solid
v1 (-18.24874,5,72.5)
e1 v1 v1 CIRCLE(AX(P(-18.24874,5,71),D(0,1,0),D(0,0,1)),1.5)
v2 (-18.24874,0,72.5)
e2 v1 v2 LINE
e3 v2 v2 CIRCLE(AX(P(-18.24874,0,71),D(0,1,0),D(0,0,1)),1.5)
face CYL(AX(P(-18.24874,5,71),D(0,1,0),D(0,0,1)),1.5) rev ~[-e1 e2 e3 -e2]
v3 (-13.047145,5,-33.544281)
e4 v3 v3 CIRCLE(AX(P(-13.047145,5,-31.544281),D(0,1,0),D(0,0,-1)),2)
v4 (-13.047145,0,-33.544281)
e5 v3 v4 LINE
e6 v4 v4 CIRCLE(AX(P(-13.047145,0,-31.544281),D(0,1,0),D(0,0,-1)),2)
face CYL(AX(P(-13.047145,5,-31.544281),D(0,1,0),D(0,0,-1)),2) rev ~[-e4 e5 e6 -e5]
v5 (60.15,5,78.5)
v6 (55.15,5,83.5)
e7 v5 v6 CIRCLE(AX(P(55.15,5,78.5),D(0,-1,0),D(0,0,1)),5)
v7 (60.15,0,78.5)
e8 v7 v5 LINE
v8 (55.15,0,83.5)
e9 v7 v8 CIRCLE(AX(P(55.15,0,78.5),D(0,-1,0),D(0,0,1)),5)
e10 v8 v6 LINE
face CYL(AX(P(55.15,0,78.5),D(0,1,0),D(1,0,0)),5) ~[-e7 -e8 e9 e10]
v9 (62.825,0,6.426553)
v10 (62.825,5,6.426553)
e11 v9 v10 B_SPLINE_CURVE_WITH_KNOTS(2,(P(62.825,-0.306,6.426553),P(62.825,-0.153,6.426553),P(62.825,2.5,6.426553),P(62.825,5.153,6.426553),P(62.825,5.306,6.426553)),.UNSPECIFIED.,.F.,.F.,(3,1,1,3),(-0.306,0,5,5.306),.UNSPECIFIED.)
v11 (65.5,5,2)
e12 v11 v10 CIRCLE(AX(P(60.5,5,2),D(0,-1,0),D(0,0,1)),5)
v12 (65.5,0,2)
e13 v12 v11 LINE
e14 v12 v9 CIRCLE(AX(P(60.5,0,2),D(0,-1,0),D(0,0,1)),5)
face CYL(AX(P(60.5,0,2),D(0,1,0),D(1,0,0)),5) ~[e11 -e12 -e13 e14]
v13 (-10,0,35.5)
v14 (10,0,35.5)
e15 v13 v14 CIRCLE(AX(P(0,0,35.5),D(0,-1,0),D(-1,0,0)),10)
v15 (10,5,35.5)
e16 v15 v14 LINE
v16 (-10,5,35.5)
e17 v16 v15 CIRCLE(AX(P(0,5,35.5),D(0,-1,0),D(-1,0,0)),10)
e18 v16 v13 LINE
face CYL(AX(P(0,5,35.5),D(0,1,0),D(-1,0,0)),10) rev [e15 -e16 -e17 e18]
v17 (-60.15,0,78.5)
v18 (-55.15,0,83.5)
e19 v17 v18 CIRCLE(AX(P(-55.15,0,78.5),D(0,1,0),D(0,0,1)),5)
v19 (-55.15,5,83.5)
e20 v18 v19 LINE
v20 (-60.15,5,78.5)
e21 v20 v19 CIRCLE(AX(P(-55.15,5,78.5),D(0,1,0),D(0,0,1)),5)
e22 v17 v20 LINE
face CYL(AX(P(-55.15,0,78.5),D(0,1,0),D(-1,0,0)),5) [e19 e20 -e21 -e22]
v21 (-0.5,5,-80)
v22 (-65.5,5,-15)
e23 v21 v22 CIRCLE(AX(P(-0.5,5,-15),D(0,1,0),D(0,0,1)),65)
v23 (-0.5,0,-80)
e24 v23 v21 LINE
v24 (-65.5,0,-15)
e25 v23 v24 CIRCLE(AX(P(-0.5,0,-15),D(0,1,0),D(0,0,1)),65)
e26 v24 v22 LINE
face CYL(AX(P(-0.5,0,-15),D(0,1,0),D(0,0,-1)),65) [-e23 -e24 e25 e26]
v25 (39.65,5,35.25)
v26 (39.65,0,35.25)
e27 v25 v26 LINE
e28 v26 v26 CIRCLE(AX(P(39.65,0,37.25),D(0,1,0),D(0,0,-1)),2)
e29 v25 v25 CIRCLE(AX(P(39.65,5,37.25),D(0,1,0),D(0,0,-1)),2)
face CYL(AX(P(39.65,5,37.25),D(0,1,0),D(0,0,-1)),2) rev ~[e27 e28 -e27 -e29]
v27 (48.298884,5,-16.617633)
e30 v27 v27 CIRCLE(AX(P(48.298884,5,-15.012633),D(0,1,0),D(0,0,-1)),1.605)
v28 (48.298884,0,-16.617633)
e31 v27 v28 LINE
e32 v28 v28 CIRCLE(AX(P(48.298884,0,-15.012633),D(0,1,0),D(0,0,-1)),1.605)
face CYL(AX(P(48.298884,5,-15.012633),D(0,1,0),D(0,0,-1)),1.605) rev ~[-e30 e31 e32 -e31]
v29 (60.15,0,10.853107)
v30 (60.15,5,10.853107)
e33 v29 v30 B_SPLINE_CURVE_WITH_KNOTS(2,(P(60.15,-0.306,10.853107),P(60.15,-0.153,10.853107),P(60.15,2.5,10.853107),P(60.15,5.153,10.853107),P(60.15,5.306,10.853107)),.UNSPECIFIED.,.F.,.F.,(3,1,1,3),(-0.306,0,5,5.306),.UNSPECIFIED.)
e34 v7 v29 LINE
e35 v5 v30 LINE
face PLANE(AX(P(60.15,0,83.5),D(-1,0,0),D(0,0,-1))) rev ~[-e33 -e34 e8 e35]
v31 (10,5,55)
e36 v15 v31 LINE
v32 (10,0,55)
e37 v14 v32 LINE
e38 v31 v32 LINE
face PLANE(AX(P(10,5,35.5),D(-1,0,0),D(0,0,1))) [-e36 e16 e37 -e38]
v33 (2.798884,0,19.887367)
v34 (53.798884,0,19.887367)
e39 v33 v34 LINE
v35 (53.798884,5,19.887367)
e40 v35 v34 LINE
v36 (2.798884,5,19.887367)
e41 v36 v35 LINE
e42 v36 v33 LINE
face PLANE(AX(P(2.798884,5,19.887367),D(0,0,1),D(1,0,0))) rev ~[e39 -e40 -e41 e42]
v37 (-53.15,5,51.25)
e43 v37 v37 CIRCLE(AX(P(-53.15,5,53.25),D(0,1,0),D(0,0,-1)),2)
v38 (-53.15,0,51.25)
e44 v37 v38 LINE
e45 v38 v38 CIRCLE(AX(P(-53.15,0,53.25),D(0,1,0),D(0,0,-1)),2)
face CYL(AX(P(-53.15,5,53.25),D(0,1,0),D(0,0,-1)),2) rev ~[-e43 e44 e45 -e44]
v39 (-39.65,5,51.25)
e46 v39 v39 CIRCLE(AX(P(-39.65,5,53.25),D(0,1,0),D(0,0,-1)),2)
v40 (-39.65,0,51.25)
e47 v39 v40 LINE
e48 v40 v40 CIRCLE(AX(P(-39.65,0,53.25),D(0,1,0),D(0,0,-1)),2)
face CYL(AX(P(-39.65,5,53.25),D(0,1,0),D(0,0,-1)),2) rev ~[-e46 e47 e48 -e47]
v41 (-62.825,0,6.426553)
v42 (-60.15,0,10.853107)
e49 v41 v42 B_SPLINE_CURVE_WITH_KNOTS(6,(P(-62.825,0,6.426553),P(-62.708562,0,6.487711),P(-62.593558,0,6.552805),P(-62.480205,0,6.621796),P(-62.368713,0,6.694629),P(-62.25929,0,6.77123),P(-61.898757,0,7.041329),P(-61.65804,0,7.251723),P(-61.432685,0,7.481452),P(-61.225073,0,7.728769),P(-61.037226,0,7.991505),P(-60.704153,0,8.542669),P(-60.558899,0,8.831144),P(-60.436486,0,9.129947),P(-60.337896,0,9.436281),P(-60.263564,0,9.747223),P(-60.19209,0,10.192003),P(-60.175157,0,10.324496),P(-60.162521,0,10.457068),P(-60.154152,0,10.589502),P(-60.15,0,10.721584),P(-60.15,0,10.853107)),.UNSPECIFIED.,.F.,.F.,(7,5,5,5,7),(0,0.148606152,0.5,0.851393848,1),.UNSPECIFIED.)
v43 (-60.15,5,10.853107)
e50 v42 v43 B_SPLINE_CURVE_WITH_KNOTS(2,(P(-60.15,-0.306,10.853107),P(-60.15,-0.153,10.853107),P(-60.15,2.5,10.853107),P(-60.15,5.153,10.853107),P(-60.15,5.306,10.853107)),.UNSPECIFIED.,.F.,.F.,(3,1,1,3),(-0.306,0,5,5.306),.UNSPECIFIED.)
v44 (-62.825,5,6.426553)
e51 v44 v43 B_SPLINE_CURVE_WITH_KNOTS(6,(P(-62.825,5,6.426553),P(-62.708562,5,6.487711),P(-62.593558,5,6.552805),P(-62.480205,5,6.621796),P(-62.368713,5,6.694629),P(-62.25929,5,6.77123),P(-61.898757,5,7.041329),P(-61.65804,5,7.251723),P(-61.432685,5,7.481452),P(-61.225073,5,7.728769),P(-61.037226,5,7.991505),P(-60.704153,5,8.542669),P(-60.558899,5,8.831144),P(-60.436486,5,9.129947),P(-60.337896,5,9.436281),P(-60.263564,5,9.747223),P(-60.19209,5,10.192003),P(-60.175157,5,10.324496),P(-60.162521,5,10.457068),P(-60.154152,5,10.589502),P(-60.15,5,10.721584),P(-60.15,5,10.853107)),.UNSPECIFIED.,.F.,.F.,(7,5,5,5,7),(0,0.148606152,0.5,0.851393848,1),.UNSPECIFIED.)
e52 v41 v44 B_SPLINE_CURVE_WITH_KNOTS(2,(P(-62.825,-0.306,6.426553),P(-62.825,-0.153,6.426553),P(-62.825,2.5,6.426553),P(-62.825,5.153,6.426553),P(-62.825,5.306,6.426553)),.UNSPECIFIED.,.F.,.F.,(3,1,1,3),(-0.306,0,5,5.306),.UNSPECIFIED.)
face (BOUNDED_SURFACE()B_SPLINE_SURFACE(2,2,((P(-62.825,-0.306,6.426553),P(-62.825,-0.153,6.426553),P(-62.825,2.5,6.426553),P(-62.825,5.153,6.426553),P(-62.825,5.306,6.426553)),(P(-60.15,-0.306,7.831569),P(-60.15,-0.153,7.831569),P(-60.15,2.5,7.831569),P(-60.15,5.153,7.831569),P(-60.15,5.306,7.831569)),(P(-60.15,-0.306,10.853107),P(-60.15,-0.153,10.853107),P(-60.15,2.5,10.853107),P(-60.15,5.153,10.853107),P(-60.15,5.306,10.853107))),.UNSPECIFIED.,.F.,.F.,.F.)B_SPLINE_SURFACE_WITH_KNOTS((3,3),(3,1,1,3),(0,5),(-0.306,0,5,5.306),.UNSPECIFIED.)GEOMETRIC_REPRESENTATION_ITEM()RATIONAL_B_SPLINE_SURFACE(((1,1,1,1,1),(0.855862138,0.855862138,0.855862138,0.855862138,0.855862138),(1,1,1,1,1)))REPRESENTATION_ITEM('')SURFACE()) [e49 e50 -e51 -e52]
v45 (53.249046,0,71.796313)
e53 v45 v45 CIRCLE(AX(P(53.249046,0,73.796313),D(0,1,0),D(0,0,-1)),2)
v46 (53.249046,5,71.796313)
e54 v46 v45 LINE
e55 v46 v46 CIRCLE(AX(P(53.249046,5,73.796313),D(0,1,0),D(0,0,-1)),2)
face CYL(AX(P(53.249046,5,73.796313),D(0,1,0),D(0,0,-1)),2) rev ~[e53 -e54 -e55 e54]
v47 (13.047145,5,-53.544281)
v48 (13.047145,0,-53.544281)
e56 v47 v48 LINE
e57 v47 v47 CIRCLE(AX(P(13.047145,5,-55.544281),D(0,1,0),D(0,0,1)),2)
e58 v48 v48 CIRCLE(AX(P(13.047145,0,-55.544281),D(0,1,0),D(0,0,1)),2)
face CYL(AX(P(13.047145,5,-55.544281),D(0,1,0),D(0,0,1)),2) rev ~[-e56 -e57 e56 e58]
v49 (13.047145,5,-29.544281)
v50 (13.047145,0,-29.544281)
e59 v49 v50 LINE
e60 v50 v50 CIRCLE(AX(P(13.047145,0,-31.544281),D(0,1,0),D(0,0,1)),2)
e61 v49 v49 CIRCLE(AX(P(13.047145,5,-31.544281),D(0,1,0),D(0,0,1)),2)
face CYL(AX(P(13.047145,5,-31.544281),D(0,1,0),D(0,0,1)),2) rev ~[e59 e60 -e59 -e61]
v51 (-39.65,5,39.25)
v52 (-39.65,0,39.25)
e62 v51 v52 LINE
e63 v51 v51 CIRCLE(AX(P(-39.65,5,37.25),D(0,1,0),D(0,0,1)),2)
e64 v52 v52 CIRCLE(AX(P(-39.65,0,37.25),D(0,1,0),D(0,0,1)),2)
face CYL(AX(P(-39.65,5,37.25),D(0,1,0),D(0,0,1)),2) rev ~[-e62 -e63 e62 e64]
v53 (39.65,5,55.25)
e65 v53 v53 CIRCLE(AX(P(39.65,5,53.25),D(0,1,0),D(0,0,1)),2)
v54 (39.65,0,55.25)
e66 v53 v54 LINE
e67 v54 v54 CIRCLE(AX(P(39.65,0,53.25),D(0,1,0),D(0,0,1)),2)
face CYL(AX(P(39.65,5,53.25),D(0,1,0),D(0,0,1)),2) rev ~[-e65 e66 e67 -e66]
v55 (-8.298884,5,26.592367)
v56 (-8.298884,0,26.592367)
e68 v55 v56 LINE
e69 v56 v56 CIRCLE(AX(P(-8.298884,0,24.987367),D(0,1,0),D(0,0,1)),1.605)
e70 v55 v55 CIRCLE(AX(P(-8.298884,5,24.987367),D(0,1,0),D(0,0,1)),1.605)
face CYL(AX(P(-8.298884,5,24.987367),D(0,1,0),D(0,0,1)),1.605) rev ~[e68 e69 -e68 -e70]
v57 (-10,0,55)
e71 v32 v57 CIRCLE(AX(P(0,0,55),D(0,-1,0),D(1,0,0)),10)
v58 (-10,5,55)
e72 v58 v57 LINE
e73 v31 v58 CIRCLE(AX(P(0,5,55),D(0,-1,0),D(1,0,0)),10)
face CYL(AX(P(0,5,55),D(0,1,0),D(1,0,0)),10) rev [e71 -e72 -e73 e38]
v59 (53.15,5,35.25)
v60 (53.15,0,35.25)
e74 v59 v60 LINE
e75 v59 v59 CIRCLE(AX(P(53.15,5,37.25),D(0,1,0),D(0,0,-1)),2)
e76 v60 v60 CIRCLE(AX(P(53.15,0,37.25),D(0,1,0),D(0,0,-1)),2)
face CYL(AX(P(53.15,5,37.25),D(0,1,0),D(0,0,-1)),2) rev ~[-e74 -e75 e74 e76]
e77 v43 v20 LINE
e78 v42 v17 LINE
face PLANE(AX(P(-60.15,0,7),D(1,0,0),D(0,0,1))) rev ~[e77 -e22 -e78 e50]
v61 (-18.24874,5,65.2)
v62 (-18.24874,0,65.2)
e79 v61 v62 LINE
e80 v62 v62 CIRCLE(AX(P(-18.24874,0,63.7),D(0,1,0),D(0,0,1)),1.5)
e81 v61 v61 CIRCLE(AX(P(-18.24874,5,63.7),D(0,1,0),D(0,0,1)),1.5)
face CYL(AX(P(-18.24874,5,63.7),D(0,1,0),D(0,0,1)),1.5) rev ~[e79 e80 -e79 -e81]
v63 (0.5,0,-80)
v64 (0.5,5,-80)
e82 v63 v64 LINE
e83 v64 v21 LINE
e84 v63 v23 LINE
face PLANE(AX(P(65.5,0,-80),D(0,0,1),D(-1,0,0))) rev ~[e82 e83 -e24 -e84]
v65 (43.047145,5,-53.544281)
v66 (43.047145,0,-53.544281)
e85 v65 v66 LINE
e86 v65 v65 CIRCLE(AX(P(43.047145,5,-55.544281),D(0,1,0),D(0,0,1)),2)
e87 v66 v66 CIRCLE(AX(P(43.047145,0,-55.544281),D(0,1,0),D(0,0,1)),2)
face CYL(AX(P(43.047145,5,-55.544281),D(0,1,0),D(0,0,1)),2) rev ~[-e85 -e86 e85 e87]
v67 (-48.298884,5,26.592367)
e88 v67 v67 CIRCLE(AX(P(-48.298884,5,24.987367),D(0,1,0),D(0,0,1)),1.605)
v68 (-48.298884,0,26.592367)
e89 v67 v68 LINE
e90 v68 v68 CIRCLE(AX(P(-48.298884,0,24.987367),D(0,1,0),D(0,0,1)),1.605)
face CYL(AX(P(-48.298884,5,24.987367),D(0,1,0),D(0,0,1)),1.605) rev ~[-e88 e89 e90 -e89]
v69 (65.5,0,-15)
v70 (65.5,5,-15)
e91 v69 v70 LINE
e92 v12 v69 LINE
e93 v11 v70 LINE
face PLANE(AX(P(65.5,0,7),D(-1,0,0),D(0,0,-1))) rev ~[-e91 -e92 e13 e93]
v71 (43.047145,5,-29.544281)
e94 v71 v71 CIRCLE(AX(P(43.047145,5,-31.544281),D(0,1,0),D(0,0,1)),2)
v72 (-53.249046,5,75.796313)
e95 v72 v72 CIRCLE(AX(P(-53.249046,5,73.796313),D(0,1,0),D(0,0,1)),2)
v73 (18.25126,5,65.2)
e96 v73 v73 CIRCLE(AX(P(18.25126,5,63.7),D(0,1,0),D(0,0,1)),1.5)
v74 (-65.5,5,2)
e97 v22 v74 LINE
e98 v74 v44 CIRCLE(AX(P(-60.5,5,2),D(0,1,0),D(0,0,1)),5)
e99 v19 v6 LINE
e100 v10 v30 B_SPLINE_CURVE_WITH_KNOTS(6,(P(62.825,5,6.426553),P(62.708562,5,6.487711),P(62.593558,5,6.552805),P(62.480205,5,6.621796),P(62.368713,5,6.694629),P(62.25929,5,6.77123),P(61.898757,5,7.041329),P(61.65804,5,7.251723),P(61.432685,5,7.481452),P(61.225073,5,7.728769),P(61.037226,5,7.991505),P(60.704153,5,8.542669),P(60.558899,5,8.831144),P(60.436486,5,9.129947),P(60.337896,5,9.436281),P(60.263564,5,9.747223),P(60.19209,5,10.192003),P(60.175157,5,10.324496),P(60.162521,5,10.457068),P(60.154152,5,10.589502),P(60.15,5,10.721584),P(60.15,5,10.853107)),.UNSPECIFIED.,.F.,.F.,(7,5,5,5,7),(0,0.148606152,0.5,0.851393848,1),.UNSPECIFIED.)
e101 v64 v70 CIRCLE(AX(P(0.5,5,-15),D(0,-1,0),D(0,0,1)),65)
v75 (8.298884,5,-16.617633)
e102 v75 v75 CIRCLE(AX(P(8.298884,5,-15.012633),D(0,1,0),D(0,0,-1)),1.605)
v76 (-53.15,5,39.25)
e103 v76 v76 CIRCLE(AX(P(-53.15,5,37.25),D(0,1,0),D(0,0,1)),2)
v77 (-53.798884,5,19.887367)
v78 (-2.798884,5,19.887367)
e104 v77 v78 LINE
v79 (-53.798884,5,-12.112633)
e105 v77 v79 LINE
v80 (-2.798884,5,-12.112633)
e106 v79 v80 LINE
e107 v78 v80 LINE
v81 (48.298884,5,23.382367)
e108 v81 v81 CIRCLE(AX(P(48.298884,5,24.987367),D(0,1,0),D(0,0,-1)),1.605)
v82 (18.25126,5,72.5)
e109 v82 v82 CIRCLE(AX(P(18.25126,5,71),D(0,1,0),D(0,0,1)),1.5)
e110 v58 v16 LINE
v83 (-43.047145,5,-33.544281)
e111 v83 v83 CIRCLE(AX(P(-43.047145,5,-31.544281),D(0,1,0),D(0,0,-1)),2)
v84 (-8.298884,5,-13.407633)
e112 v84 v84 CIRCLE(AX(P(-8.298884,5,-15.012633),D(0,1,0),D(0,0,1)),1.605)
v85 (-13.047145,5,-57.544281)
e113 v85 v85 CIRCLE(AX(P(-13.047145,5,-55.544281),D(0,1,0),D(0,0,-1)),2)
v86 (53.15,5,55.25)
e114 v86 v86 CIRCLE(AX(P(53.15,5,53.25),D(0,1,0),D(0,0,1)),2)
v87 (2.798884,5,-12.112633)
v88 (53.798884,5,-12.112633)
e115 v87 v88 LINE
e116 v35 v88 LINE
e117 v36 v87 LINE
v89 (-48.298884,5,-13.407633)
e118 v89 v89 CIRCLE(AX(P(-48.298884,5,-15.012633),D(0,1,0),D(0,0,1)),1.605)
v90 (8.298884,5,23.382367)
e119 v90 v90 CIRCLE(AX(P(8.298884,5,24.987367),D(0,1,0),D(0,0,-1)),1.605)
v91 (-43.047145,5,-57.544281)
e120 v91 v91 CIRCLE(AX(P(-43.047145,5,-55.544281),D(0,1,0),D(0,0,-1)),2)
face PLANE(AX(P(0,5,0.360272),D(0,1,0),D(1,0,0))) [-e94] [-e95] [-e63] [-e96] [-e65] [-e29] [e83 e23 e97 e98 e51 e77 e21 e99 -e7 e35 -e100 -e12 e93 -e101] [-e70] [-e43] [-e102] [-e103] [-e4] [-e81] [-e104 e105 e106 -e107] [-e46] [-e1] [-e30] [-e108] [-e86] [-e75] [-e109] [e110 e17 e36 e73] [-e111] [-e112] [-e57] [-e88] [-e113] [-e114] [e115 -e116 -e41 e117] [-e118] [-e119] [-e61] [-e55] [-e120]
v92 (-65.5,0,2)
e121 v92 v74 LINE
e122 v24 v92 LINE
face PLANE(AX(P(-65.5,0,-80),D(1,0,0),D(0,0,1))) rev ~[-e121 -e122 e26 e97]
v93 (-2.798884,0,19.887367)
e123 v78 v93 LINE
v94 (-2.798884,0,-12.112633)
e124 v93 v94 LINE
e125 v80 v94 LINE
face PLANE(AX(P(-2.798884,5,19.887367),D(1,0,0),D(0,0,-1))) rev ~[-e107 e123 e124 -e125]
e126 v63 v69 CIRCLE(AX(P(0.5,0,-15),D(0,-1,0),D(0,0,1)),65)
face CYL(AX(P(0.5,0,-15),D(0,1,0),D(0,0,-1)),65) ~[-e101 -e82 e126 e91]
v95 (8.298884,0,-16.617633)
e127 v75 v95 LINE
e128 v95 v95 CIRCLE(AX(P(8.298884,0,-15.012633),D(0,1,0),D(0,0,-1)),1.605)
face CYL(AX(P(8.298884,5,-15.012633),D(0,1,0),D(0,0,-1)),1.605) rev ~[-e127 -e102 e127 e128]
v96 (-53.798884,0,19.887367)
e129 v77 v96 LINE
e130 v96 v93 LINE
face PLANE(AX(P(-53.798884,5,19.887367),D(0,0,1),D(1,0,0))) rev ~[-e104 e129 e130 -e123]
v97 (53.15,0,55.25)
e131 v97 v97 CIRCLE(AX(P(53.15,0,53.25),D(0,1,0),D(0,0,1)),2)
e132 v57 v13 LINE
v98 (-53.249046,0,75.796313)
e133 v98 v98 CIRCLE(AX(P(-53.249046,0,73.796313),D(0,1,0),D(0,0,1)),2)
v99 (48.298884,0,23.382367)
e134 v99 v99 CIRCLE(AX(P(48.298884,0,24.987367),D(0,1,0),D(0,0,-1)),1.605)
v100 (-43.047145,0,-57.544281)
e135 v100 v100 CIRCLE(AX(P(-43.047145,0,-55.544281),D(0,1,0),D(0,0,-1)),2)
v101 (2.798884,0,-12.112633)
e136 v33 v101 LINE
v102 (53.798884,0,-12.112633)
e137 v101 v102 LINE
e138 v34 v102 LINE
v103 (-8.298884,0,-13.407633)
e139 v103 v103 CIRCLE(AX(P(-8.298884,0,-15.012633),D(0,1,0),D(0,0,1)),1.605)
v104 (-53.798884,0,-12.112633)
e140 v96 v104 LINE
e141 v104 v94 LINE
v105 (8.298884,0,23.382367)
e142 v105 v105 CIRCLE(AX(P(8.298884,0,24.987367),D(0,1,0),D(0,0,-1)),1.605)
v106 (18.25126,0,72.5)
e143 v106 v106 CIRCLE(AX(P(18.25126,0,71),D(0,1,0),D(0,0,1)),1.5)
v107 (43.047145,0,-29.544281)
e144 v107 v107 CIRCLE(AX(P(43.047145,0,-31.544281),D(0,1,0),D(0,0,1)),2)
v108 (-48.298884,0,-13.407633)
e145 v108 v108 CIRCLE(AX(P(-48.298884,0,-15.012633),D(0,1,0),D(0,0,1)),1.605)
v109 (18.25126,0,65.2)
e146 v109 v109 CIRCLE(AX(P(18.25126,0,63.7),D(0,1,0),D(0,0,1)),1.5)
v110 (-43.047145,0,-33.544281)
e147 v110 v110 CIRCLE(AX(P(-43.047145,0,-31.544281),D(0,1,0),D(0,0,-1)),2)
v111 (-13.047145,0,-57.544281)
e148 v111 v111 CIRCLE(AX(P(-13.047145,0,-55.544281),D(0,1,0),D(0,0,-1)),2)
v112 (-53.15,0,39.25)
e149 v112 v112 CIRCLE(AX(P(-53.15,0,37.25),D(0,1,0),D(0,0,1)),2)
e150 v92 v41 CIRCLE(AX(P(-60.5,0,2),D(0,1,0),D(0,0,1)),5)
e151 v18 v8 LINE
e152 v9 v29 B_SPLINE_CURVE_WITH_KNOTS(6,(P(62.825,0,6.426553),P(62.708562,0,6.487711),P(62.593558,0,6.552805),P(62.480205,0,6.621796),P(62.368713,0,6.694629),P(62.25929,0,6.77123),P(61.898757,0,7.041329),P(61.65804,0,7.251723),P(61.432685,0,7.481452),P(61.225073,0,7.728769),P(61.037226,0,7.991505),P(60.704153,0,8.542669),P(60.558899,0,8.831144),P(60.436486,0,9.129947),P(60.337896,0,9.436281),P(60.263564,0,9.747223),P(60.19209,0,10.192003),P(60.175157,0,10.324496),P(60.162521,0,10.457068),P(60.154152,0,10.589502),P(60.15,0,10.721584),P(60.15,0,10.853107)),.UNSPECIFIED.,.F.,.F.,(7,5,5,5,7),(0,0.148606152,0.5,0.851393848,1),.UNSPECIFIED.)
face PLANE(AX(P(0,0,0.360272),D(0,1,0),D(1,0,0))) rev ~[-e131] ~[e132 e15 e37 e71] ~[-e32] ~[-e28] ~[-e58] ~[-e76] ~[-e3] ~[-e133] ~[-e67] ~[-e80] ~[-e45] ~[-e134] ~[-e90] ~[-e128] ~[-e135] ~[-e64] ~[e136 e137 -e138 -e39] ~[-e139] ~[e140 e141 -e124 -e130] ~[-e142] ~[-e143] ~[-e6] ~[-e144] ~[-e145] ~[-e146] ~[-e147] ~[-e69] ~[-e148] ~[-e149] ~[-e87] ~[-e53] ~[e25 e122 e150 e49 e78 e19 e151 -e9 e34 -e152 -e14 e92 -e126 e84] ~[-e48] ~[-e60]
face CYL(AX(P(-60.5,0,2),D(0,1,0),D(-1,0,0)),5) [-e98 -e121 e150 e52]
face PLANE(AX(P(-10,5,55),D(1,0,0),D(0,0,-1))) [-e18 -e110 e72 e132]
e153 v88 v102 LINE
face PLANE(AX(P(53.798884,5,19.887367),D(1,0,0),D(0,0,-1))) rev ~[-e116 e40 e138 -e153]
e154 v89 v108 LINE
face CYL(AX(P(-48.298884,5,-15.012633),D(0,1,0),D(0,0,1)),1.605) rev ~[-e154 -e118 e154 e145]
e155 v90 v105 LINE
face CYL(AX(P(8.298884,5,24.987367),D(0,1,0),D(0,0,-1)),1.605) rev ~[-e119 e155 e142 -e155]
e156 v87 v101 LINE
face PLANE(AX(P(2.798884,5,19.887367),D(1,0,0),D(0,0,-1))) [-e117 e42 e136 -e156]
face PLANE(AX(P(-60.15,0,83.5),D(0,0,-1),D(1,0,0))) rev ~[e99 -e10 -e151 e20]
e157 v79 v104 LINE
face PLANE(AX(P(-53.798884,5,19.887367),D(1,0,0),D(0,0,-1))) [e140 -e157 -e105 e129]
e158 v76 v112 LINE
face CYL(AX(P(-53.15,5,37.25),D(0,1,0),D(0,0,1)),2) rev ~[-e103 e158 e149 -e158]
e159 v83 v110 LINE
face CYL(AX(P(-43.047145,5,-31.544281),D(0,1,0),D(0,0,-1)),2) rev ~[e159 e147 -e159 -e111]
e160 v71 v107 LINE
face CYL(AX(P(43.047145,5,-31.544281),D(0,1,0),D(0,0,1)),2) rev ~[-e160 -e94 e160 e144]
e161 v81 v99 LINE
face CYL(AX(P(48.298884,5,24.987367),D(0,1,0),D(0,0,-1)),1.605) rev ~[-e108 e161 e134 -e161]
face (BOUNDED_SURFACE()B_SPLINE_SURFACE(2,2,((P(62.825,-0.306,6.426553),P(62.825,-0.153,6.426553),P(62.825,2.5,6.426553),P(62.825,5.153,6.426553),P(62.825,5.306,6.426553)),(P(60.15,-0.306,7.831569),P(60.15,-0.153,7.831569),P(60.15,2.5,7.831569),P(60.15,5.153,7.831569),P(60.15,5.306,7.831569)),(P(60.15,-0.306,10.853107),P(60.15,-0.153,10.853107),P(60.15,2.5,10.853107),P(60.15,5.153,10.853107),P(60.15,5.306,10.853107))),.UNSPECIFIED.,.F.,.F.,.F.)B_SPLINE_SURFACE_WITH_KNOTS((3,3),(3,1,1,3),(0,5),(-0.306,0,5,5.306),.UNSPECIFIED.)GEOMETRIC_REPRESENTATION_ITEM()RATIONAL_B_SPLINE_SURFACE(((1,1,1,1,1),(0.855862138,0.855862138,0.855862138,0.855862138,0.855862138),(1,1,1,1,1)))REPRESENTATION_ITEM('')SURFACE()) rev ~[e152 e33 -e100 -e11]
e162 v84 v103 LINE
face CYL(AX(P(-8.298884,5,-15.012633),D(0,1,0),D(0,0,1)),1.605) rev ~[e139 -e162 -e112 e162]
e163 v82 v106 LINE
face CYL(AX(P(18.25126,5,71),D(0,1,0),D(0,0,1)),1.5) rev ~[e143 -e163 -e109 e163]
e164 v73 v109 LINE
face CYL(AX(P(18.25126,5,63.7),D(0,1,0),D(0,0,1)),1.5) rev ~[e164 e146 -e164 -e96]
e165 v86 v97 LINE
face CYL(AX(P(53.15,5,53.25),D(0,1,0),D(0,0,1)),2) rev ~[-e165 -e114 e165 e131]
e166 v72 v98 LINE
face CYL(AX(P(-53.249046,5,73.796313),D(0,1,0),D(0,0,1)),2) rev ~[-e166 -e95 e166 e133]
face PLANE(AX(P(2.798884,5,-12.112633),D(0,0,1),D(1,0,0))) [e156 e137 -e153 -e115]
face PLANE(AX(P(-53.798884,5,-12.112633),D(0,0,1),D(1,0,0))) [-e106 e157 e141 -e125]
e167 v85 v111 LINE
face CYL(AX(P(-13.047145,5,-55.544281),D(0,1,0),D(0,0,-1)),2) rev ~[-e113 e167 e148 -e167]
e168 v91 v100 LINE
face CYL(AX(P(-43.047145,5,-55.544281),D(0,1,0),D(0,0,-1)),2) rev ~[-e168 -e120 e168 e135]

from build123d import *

# Parameters (mm, degrees)
BOSS_EXTRUDE2_DEPTH = 5
FILLET8_R           = 65
SKETCH4_R           = 2
SKETCH4_R_2         = 1.605
SKETCH4_R_3         = 1.5
SKETCH4_W           = 51
SKETCH4_H           = 32
CUT_EXTRUDE1_DEPTH  = 5
FILLET9_R           = 5
FILLET10_R          = 5


with BuildPart() as part:
    # Sketch1 → Boss-Extrude2 (new body)
    with BuildSketch(Plane(origin=(0, 0, 0), x_dir=(1, 0, 0), z_dir=(0, 1, 0))):
        Polygon((65.5, 80), (-65.5, 80), (-65.5, -7), (-60.15, -7), (-60.15, -83.5), (60.15, -83.5), (60.15, -7), (65.5, -7), align=None)
    extrude(amount=BOSS_EXTRUDE2_DEPTH)

    # Fillet8
    fillet8_edges = [part.edges().sort_by_distance(p)[0] for p in [
        (-65.5, 2.5, -80),
        (65.5, 2.5, -80),
    ]]
    fillet(fillet8_edges, radius=FILLET8_R)

    # Sketch4 → Cut-Extrude1 (cut)
    with BuildSketch(Plane(origin=(0, 5, 0), x_dir=(1, 0, 0), z_dir=(0, 1, 0))):
        with Locations(Location((-39.65, -37.25, 0), (0, 0, 270))):
            Circle(SKETCH4_R)
        with Locations(Location((39.65, -37.25, 0), (0, 0, 90))):
            Circle(SKETCH4_R)
        with Locations(Location((39.65, -53.25, 0), (0, 0, 270))):
            Circle(SKETCH4_R)
        with Locations(Location((-39.65, -53.25, 0), (0, 0, 90))):
            Circle(SKETCH4_R)
        with Locations(Location((-53.15, -37.25, 0), (0, 0, 270))):
            Circle(SKETCH4_R)
        with Locations(Location((-53.15, -53.25, 0), (0, 0, 90))):
            Circle(SKETCH4_R)
        with Locations(Location((53.15, -53.25, 0), (0, 0, 270))):
            Circle(SKETCH4_R)
        with Locations(Location((53.15, -37.25, 0), (0, 0, 90))):
            Circle(SKETCH4_R)
        with Locations(Location((-48.298883815, 15.012633239, 0), (0, 0, 270))):
            Circle(SKETCH4_R_2)
        with Locations(Location((-8.298883815, 15.012633239, 0), (0, 0, 270))):
            Circle(SKETCH4_R_2)
        with Locations(Location((-48.298883815, -24.987366761, 0), (0, 0, 270))):
            Circle(SKETCH4_R_2)
        with Locations(Location((-8.298883815, -24.987366761, 0), (0, 0, 270))):
            Circle(SKETCH4_R_2)
        with Locations(Location((48.298883815, -24.987366761, 0), (0, 0, 90))):
            Circle(SKETCH4_R_2)
        with Locations(Location((8.298883815, -24.987366761, 0), (0, 0, 90))):
            Circle(SKETCH4_R_2)
        with Locations(Location((8.298883815, 15.012633239, 0), (0, 0, 90))):
            Circle(SKETCH4_R_2)
        with Locations(Location((48.298883815, 15.012633239, 0), (0, 0, 90))):
            Circle(SKETCH4_R_2)
        with Locations(Location((13.047144734, 55.54428083, 0), (0, 0, 270))):
            Circle(SKETCH4_R)
        with Locations(Location((43.047144734, 55.54428083, 0), (0, 0, 270))):
            Circle(SKETCH4_R)
        with Locations(Location((43.047144734, 31.54428083, 0), (0, 0, 270))):
            Circle(SKETCH4_R)
        with Locations(Location((13.047144734, 31.54428083, 0), (0, 0, 270))):
            Circle(SKETCH4_R)
        with Locations(Location((-43.047144734, 55.54428083, 0), (0, 0, 90))):
            Circle(SKETCH4_R)
        with Locations(Location((-43.047144734, 31.54428083, 0), (0, 0, 90))):
            Circle(SKETCH4_R)
        with Locations(Location((-13.047144734, 31.54428083, 0), (0, 0, 90))):
            Circle(SKETCH4_R)
        with Locations(Location((-13.047144734, 55.54428083, 0), (0, 0, 90))):
            Circle(SKETCH4_R)
        with Locations(Location((-18.248740478, -71, 0), (0, 0, 270))):
            Circle(SKETCH4_R_3)
        with Locations(Location((-53.249046458, -73.796312774, 0), (0, 0, 270))):
            Circle(SKETCH4_R)
        with Locations(Location((53.249046458, -73.796312774, 0), (0, 0, 90))):
            Circle(SKETCH4_R)
        with Locations(Location((18.251259522, -71, 0), (0, 0, 270))):
            Circle(SKETCH4_R_3)
        with Locations(Location((-18.248740478, -63.7, 0), (0, 0, 270))):
            Circle(SKETCH4_R_3)
        with Locations(Location((18.25125952, -63.7, 0), (0, 0, 270))):
            Circle(SKETCH4_R_3)
        with BuildLine():
            Line((10, -35.5), (10, -55))
            ThreePointArc((10, -55), (0, -65), (-10, -55))
            Line((-10, -55), (-10, -35.5))
            ThreePointArc((-10, -35.5), (0, -25.5), (10, -35.5))
        make_face()
        with Locations((-28.298883815, -3.887366761)):
            Rectangle(SKETCH4_W, SKETCH4_H)
        with Locations((28.298883815, -3.887366761)):
            Rectangle(SKETCH4_W, SKETCH4_H)
    extrude(amount=-CUT_EXTRUDE1_DEPTH, mode=Mode.SUBTRACT)

    # Fillet9
    fillet9_edges = [part.edges().sort_by_distance(p)[0] for p in [
        (60.15, 2.5, 83.5),
        (-60.15, 2.5, 83.5),
        (-65.5, 2.5, 7),
        (65.5, 2.5, 7),
    ]]
    fillet(fillet9_edges, radius=FILLET9_R)

    # Fillet10
    fillet10_edges = [part.edges().sort_by_distance(p)[0] for p in [
        (60.15, 2.5, 7),
        (-60.15, 2.5, 7),
    ]]
    fillet(fillet10_edges, radius=FILLET10_R)


solid = part.part
